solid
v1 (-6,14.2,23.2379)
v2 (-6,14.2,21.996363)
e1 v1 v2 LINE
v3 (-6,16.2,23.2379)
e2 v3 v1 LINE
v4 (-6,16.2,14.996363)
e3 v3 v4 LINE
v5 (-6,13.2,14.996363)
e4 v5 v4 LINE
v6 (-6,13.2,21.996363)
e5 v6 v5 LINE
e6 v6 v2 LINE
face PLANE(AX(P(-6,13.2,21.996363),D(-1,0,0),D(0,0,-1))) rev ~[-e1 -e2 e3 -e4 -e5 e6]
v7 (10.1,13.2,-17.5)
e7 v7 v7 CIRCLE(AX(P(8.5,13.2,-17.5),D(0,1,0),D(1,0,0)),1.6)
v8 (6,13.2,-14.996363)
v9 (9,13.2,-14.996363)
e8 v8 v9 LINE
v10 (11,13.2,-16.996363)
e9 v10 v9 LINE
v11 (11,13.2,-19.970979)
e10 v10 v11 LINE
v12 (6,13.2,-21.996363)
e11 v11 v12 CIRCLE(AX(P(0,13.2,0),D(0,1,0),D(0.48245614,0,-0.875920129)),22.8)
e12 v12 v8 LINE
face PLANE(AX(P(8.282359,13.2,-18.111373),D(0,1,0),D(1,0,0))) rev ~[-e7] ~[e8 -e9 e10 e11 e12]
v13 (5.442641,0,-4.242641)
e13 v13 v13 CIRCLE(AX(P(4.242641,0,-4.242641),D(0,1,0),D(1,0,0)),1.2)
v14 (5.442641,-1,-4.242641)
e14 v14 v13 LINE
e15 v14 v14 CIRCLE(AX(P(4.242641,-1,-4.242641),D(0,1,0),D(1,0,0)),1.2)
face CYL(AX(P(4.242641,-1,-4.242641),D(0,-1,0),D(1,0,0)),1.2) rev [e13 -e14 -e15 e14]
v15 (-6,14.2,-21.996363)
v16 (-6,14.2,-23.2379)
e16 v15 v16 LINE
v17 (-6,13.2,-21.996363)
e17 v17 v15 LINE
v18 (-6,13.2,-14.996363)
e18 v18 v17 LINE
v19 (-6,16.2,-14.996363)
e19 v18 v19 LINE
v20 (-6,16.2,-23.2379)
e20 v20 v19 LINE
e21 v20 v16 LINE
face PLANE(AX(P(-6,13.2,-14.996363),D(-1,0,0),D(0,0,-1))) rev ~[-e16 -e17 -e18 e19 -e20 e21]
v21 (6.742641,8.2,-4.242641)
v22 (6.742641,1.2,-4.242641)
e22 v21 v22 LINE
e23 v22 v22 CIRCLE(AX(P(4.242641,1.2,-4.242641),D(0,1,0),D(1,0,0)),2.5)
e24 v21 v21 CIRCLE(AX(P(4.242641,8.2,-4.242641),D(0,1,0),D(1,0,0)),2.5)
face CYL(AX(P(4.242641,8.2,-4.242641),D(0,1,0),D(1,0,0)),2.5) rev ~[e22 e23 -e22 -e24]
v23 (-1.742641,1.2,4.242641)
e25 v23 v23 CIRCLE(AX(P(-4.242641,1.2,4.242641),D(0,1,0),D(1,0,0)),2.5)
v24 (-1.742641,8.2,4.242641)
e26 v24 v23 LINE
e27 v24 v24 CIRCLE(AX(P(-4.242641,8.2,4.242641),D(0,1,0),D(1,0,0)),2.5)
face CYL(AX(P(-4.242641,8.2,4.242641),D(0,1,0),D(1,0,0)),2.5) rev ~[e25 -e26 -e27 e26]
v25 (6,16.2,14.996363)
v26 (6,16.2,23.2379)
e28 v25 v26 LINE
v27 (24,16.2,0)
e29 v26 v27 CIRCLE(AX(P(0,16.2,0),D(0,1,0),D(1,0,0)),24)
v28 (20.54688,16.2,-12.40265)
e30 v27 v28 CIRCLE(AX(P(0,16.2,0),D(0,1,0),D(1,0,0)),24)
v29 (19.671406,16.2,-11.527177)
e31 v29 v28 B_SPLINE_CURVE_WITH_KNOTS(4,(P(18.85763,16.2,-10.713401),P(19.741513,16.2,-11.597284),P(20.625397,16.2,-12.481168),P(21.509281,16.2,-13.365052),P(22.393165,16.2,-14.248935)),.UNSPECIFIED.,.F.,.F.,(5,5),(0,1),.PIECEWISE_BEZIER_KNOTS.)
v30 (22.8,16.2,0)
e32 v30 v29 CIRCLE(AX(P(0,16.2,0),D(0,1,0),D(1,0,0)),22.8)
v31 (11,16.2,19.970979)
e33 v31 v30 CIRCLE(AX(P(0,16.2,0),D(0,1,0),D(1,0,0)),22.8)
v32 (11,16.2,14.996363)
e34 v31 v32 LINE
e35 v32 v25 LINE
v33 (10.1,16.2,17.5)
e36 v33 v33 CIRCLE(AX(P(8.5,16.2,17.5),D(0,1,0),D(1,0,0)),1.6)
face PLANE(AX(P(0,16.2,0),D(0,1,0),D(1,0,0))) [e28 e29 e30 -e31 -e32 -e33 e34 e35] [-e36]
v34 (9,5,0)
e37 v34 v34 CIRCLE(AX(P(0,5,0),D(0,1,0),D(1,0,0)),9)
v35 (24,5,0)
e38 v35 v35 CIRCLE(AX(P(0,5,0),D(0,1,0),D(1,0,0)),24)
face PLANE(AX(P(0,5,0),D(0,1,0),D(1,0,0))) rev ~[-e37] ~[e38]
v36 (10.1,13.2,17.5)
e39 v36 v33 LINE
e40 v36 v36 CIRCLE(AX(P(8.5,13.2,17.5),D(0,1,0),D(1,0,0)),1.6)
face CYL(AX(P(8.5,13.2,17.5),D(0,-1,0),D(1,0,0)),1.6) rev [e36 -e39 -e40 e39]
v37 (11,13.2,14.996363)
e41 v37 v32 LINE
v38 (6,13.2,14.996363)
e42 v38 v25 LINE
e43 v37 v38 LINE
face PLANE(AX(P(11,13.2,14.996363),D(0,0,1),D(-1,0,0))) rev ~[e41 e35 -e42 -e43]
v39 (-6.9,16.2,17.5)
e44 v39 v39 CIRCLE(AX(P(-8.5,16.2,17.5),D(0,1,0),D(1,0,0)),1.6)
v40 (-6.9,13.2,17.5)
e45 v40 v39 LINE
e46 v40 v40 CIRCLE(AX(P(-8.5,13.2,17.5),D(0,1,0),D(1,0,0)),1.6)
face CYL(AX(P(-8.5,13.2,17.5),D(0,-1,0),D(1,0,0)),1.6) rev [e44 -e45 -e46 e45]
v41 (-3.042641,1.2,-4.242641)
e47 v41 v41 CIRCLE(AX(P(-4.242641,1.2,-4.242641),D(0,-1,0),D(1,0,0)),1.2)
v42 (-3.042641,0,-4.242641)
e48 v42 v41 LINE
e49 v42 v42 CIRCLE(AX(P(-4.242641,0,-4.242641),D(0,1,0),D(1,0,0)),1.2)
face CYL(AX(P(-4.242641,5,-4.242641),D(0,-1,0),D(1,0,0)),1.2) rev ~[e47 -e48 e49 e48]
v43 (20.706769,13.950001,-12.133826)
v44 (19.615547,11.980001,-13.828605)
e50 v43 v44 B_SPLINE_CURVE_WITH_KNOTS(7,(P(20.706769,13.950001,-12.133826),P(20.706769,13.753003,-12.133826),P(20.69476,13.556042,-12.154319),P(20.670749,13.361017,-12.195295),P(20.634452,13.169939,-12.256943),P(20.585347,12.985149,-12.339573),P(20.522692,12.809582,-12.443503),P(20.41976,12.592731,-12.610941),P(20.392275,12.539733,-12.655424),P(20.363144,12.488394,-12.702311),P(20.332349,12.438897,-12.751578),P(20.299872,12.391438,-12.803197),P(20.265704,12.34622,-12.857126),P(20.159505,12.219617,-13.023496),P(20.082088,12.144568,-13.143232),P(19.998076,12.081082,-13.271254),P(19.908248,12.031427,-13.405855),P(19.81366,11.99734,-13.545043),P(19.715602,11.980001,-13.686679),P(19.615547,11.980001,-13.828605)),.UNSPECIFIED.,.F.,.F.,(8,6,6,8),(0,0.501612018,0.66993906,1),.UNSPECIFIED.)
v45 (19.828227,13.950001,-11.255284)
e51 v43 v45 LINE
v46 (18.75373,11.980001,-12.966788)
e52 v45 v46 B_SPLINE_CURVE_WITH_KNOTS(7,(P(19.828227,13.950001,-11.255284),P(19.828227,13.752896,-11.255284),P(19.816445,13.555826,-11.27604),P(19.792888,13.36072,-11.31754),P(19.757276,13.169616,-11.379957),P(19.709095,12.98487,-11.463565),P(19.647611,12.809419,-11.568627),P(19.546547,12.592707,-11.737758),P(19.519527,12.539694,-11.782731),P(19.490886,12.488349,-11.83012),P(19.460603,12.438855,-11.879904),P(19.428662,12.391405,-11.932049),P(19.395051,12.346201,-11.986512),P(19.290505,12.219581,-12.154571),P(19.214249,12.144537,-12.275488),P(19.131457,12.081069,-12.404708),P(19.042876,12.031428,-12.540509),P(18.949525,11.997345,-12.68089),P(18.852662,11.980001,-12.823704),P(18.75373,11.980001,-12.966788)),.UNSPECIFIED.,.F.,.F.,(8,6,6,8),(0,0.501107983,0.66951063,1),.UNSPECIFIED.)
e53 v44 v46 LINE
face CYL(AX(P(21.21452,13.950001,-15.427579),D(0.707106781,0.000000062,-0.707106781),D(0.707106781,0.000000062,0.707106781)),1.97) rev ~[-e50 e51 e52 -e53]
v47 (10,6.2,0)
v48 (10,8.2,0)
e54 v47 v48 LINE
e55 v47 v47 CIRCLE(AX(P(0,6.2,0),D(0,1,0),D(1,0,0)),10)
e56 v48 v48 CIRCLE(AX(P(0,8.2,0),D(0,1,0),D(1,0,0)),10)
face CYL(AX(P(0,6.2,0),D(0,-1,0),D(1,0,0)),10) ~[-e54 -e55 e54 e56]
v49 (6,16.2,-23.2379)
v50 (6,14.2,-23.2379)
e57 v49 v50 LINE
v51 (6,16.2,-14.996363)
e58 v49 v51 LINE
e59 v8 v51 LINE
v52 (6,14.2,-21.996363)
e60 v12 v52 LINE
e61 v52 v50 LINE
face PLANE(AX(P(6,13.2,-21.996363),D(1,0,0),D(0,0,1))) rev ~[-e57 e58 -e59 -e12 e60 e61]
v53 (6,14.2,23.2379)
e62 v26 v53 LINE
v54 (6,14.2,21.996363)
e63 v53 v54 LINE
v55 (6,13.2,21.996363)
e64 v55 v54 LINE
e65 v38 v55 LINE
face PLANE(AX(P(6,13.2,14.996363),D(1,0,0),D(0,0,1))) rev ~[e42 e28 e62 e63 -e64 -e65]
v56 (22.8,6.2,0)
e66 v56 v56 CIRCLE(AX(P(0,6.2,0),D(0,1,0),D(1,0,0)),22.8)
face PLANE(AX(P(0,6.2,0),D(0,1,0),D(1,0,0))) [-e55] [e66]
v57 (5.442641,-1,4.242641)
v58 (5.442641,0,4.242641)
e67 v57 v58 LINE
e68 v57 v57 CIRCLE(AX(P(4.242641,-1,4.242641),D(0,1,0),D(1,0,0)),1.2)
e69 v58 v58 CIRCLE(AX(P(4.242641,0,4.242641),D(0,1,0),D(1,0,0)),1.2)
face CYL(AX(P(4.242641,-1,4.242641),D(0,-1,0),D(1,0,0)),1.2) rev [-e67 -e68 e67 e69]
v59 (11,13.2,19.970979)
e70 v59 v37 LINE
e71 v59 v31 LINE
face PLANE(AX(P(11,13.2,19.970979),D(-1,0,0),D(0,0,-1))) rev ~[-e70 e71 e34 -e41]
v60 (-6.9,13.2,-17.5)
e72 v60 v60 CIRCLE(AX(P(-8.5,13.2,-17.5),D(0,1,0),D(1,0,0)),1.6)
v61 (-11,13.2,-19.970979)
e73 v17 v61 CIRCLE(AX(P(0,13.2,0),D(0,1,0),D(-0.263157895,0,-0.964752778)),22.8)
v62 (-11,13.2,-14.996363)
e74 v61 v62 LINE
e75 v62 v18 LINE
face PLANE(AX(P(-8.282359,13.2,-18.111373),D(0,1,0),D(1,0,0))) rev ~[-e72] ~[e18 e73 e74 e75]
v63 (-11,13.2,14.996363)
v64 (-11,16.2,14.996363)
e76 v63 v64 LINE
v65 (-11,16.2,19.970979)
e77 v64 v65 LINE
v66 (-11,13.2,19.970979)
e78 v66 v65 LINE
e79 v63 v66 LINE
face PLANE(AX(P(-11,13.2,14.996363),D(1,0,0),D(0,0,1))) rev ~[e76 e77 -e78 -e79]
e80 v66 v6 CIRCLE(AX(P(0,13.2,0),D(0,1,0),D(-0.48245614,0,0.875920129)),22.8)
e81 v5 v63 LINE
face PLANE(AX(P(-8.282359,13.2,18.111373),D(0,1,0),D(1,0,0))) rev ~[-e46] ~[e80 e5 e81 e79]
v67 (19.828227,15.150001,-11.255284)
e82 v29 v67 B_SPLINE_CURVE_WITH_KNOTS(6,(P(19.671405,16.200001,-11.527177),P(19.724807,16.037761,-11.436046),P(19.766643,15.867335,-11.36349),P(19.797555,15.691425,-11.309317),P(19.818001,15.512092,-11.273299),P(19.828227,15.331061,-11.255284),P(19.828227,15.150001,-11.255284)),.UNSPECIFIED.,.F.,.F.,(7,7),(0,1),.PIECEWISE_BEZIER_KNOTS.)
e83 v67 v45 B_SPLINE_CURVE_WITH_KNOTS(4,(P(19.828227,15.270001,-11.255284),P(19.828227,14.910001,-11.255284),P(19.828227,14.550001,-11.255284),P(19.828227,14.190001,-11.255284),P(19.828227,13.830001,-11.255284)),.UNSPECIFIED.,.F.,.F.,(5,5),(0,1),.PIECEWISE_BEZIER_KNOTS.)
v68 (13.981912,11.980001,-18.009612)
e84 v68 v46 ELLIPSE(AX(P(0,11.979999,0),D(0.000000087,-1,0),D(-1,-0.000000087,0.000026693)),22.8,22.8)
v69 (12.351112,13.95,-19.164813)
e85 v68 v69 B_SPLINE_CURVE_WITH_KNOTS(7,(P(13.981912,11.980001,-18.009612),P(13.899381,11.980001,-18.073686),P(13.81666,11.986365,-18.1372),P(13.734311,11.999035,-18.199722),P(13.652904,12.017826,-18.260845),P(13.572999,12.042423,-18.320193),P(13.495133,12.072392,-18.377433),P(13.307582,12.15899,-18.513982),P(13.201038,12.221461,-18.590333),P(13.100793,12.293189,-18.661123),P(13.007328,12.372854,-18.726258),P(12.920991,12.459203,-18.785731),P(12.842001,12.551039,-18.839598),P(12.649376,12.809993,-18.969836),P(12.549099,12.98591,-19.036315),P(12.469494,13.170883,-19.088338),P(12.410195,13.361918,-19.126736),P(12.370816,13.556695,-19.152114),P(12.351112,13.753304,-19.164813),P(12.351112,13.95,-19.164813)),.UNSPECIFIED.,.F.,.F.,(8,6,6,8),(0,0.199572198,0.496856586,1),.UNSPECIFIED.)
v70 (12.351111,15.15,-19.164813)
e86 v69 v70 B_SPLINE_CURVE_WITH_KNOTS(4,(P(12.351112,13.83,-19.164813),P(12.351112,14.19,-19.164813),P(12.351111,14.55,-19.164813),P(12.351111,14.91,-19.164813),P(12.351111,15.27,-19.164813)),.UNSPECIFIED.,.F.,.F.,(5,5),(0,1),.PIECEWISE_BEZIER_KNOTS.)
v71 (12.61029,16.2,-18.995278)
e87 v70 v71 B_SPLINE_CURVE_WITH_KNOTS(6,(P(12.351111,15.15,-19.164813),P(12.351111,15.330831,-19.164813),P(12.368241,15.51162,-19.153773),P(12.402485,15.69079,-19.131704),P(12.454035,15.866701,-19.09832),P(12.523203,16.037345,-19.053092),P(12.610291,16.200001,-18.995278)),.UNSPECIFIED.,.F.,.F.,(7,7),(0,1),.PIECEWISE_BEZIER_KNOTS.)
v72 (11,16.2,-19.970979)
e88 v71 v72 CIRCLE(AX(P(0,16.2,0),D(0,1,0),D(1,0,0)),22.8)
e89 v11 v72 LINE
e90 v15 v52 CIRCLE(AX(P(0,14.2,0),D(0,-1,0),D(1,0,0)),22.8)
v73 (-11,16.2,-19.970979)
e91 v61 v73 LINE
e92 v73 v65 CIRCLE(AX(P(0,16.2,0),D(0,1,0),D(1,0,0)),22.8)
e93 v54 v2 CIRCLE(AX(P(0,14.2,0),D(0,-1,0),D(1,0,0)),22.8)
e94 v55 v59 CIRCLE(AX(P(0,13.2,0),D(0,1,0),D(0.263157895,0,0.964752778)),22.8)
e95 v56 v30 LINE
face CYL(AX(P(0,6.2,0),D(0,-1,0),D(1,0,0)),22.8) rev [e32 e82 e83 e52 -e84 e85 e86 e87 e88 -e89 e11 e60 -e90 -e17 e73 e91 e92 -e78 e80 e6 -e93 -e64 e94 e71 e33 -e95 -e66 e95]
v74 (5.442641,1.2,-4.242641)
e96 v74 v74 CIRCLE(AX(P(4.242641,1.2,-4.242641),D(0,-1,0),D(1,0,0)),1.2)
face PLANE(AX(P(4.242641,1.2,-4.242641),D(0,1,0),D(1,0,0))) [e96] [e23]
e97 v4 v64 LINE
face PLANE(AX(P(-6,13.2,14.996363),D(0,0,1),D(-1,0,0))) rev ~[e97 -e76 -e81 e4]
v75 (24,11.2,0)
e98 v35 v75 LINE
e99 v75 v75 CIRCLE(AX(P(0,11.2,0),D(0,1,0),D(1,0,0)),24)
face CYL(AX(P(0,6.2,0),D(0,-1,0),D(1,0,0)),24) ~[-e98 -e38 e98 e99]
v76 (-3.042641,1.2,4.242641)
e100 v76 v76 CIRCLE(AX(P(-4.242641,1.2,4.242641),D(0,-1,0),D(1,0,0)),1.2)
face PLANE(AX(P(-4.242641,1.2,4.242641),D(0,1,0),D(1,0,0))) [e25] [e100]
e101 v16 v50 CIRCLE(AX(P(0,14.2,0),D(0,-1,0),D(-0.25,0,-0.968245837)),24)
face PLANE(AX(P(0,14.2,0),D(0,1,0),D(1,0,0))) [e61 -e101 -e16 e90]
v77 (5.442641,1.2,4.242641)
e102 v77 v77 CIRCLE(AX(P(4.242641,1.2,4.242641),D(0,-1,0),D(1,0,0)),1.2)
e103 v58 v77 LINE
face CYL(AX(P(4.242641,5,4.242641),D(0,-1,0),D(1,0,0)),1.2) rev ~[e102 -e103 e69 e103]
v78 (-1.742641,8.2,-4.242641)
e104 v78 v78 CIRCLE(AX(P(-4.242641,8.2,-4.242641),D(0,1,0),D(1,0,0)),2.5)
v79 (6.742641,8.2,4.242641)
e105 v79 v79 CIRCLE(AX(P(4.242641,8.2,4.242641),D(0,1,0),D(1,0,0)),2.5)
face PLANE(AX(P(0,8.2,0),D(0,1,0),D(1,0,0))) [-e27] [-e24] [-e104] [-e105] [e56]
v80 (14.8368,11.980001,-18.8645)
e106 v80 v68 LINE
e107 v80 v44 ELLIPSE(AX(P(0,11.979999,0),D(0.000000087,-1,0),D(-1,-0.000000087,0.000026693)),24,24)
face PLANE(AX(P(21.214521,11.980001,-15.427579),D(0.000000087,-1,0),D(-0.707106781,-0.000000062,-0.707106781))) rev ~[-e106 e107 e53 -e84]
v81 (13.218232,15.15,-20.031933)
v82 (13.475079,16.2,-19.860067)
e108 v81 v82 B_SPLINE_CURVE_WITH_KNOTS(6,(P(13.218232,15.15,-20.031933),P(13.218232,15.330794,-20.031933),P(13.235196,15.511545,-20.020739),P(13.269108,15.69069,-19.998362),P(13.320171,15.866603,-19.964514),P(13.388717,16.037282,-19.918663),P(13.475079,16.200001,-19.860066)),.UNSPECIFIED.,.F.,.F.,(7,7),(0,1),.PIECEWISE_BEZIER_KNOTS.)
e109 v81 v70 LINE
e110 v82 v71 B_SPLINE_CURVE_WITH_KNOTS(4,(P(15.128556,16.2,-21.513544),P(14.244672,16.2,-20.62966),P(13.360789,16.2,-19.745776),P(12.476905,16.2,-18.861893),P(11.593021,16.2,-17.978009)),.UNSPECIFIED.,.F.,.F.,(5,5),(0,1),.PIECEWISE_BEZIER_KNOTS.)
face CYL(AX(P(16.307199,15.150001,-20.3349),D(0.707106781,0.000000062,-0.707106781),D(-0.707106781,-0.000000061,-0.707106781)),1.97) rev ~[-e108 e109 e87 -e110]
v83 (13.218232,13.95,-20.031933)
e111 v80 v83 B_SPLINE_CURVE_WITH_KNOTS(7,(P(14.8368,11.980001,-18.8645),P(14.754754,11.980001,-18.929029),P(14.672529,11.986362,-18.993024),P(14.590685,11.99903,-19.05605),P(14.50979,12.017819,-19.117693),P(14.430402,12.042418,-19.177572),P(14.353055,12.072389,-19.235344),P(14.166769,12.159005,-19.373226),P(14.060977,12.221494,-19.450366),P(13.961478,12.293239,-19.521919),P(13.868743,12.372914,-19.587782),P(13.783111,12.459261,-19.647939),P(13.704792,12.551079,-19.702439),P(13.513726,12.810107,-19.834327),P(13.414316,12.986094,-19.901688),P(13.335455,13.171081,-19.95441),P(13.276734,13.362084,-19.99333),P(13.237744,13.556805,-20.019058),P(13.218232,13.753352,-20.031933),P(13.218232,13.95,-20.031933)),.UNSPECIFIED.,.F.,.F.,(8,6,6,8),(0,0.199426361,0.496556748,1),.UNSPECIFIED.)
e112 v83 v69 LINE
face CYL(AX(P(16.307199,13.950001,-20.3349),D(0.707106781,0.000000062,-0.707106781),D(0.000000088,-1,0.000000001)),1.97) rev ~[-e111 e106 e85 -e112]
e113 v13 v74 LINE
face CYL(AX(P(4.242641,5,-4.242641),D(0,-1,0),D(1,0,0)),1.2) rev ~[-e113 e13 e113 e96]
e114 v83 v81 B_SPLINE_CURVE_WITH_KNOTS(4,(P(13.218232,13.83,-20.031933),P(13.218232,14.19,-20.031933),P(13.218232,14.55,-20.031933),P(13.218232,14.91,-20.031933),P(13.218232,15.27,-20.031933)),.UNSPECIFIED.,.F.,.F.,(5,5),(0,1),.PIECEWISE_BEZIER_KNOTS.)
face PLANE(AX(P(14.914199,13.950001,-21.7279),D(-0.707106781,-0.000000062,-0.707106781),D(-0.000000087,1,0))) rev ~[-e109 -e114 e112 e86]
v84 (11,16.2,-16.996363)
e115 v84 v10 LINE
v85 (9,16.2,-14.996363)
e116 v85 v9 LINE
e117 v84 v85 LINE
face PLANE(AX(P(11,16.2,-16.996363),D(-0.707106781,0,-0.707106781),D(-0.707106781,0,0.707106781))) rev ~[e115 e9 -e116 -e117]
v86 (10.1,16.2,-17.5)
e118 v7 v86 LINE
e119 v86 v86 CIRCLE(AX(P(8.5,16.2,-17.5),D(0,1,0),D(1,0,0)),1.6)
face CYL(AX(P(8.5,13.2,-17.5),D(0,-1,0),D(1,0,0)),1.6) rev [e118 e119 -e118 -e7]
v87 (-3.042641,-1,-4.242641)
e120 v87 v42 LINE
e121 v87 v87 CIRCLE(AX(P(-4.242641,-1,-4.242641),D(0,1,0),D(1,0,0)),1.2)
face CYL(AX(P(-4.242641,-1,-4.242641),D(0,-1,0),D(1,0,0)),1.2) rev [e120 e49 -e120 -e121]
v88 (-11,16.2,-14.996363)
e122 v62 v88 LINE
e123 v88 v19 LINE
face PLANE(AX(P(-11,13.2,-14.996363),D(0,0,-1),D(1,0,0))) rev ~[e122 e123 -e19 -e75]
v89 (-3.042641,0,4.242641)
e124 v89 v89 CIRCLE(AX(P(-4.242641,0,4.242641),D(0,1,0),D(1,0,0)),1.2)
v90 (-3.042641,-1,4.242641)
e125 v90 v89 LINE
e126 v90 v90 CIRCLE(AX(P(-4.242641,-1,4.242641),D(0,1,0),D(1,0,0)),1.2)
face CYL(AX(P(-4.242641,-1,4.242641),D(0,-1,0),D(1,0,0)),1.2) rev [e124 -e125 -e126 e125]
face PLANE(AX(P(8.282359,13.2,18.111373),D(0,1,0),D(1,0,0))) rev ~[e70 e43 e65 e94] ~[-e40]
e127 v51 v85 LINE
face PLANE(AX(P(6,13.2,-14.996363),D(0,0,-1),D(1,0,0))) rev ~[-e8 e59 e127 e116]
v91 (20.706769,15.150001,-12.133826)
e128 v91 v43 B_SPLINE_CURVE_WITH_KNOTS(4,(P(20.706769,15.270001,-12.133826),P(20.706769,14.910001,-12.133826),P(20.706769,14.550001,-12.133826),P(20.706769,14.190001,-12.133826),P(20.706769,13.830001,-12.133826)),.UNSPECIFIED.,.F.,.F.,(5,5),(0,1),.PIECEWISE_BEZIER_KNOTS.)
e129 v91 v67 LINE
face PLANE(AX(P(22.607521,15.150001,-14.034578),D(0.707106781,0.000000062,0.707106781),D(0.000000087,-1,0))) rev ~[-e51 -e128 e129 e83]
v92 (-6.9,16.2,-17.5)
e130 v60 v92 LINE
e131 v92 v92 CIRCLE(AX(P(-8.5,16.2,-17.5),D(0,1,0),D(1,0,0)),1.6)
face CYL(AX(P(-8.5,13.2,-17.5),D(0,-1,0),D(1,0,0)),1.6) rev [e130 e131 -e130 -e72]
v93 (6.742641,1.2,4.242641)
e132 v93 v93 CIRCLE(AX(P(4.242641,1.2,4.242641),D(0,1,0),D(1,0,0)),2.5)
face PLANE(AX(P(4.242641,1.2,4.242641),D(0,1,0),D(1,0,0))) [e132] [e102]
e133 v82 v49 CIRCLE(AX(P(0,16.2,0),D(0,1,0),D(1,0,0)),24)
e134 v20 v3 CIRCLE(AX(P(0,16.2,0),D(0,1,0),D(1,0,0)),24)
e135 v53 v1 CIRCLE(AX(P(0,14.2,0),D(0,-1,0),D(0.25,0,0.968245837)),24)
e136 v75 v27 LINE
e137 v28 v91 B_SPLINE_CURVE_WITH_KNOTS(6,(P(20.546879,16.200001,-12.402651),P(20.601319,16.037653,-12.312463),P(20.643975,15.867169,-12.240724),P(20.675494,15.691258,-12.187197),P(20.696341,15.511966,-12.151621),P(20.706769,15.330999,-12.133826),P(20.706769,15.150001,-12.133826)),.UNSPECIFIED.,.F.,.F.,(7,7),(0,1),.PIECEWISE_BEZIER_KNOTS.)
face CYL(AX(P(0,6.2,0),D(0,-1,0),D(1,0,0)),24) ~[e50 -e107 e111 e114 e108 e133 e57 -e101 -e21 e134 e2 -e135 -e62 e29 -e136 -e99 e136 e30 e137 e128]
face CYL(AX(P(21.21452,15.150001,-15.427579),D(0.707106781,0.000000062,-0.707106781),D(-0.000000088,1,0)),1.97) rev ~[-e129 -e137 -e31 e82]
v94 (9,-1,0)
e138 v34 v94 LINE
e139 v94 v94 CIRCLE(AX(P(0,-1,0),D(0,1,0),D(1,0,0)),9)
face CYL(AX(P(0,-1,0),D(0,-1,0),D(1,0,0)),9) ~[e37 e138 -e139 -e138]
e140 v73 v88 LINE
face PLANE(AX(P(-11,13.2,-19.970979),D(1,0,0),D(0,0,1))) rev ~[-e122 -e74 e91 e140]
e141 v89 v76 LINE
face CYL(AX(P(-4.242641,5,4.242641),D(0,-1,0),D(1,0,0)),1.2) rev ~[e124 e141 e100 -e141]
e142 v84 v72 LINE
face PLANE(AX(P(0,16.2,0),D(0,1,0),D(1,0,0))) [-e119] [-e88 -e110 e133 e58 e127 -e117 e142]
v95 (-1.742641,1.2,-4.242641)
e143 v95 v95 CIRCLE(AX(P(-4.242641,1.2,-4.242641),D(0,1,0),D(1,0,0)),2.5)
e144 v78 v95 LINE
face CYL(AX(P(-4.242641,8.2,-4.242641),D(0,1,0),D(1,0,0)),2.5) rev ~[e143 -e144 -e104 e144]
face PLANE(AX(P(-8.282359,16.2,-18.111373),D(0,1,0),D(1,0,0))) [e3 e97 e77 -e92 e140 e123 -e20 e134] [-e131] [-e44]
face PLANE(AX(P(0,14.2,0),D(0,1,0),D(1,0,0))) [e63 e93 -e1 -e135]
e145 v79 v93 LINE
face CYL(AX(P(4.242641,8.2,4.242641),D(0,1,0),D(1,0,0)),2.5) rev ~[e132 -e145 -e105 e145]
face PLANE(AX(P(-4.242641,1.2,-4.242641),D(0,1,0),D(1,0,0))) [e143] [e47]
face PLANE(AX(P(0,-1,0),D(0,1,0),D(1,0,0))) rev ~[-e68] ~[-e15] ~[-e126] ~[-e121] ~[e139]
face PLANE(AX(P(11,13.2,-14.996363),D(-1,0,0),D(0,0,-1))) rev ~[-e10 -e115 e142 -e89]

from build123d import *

# Parameters (mm, degrees)
SKETCH1_R           = 9
SKETCH1_R_2         = 1.2
BOSS_EXTRUDE1_DEPTH = 5
SKETCH2_R           = 24
BOSS_EXTRUDE2_DEPTH = 1.2
SKETCH4_R           = 1.2
CUT_EXTRUDE1_DEPTH  = 35.307433597
SKETCH5_R           = 10
SKETCH5_R_2         = 1.2
BOSS_EXTRUDE4_DEPTH = 2
SKETCH6_R           = 24
SKETCH6_R_2         = 22.8
BOSS_EXTRUDE5_DEPTH = 10
SKETCH7_W           = 12
SKETCH7_H           = 48
CUT_EXTRUDE2_DEPTH  = 2
BOSS_EXTRUDE6_START = -3
SKETCH9_R           = 1.6
BOSS_EXTRUDE6_DEPTH = 3
SKETCH10_R          = 2.5
CUT_EXTRUDE3_DEPTH  = 7
BOSS_EXTRUDE7_START = -1
SKETCH1_2_R         = 9
SKETCH1_2_R_2       = 1.2
BOSS_EXTRUDE7_DEPTH = 1
CUT_EXTRUDE4_DEPTH  = 5
SKETCH18_OUTSIDE_W  = 64.006
SKETCH18_OUTSIDE_H  = 64.006
SKETCH18_OUTSIDE_R  = 24
CUT_EXTRUDE5_DEPTH  = 5


with BuildPart() as part:
    # Sketch1 → Boss-Extrude1 (new body)
    with BuildSketch(Plane(origin=(0, 0, 0), x_dir=(1, 0, 0), z_dir=(0, 1, 0))):
        Circle(SKETCH1_R)
        with Locations((4.242640687, 4.242640687)):
            Circle(SKETCH1_R_2, mode=Mode.SUBTRACT)
        with Locations((-4.242640687, 4.242640687)):
            Circle(SKETCH1_R_2, mode=Mode.SUBTRACT)
        with Locations((4.242640687, -4.242640687)):
            Circle(SKETCH1_R_2, mode=Mode.SUBTRACT)
        with Locations((-4.242640687, -4.242640687)):
            Circle(SKETCH1_R_2, mode=Mode.SUBTRACT)
    extrude(amount=BOSS_EXTRUDE1_DEPTH)

    # Sketch2 → Boss-Extrude2 (add)
    with BuildSketch(Plane(origin=(0, 5, 0), x_dir=(1, 0, 0), z_dir=(0, 1, 0))):
        Circle(SKETCH2_R)
    extrude(amount=BOSS_EXTRUDE2_DEPTH)

    # Sketch4 → Cut-Extrude1 (cut, through all)
    with BuildSketch(Plane.XZ.offset(-5)):
        with Locations((-4.242640687, -4.242640687)):
            Circle(SKETCH4_R)
        with Locations((4.242640687, -4.242640687)):
            Circle(SKETCH4_R)
        with Locations((4.242640687, 4.242640687)):
            Circle(SKETCH4_R)
        with Locations((-4.242640687, 4.242640687)):
            Circle(SKETCH4_R)
    extrude(amount=-CUT_EXTRUDE1_DEPTH, mode=Mode.SUBTRACT)

    # Sketch5 → Boss-Extrude4 (add)
    with BuildSketch(Plane(origin=(0, 6.2, 0), x_dir=(1, 0, 0), z_dir=(0, 1, 0))):
        Circle(SKETCH5_R)
        with Locations((4.242640687, -4.242640687)):
            Circle(SKETCH5_R_2, mode=Mode.SUBTRACT)
        with Locations((-4.242640687, -4.242640687)):
            Circle(SKETCH5_R_2, mode=Mode.SUBTRACT)
        with Locations((-4.242640687, 4.242640687)):
            Circle(SKETCH5_R_2, mode=Mode.SUBTRACT)
        with Locations((4.242640687, 4.242640687)):
            Circle(SKETCH5_R_2, mode=Mode.SUBTRACT)
    extrude(amount=BOSS_EXTRUDE4_DEPTH)

    # Sketch6 → Boss-Extrude5 (add)
    with BuildSketch(Plane(origin=(0, 6.2, 0), x_dir=(1, 0, 0), z_dir=(0, 1, 0))):
        Circle(SKETCH6_R)
        Circle(SKETCH6_R_2, mode=Mode.SUBTRACT)
    extrude(amount=BOSS_EXTRUDE5_DEPTH)

    # Sketch7 → Cut-Extrude2 (cut)
    with BuildSketch(Plane(origin=(0, 16.2, 0), x_dir=(1, 0, 0), z_dir=(0, 1, 0))):
        Rectangle(SKETCH7_W, SKETCH7_H)
    extrude(amount=-CUT_EXTRUDE2_DEPTH, mode=Mode.SUBTRACT)

    # Sketch9 → Boss-Extrude6 (add)
    # profile 1 of 4: a face of its own
    with BuildSketch(Plane(origin=(0, 16.2, 0), x_dir=(1, 0, 0), z_dir=(0, 1, 0)).offset(BOSS_EXTRUDE6_START)):
        with BuildLine():
            Line((-6, 14.996363336), (-6, 21.996363336))
            ThreePointArc((-6, 21.996363336), (-8.560113637, 21.132071704), (-11, 19.970978944))
            Line((-11, 19.970978944), (-11, 14.996363336))
            Line((-11, 14.996363336), (-6, 14.996363336))
        make_face()
        with Locations((-8.5, 17.5)):
            Circle(SKETCH9_R, mode=Mode.SUBTRACT)
    # profile 2 of 4: a face of its own
    with BuildSketch(Plane(origin=(0, 16.2, 0), x_dir=(1, 0, 0), z_dir=(0, 1, 0)).offset(BOSS_EXTRUDE6_START)):
        with BuildLine():
            ThreePointArc((11, 19.970978944), (8.560113637, 21.132071704), (6, 21.996363336))
            Line((6, 21.996363336), (6, 14.996363336))
            Line((6, 14.996363336), (11, 14.996363336))
            Line((11, 14.996363336), (11, 19.970978944))
        make_face()
        with Locations((8.5, 17.5)):
            Circle(SKETCH9_R, mode=Mode.SUBTRACT)
    # profile 3 of 4: a face of its own
    with BuildSketch(Plane(origin=(0, 16.2, 0), x_dir=(1, 0, 0), z_dir=(0, 1, 0)).offset(BOSS_EXTRUDE6_START)):
        with BuildLine():
            Line((-11, -14.996363336), (-11, -19.970978944))
            ThreePointArc((-11, -19.970978944), (-8.560113637, -21.132071704), (-6, -21.996363336))
            Line((-6, -21.996363336), (-6, -14.996363336))
            Line((-6, -14.996363336), (-11, -14.996363336))
        make_face()
        with Locations((-8.5, -17.5)):
            Circle(SKETCH9_R, mode=Mode.SUBTRACT)
    # profile 4 of 4: a face of its own
    with BuildSketch(Plane(origin=(0, 16.2, 0), x_dir=(1, 0, 0), z_dir=(0, 1, 0)).offset(BOSS_EXTRUDE6_START)):
        with BuildLine():
            ThreePointArc((6, -21.996363336), (8.560113637, -21.132071704), (11, -19.970978944))
            Line((11, -19.970978944), (11, -14.996363336))
            Line((11, -14.996363336), (6, -14.996363336))
            Line((6, -14.996363336), (6, -21.996363336))
        make_face()
        with Locations((8.5, -17.5)):
            Circle(SKETCH9_R, mode=Mode.SUBTRACT)
    extrude(amount=BOSS_EXTRUDE6_DEPTH)

    # Sketch10 → Cut-Extrude3 (cut)
    with BuildSketch(Plane(origin=(0, 8.2, 0), x_dir=(1, 0, 0), z_dir=(0, 1, 0))):
        with Locations((4.242640687, 4.242640687)):
            Circle(SKETCH10_R)
        with Locations((4.242640687, -4.242640687)):
            Circle(SKETCH10_R)
        with Locations((-4.242640687, -4.242640687)):
            Circle(SKETCH10_R)
        with Locations((-4.242640687, 4.242640687)):
            Circle(SKETCH10_R)
    extrude(amount=-CUT_EXTRUDE3_DEPTH, mode=Mode.SUBTRACT)

    # Sketch1<2> → Boss-Extrude7 (add)
    with BuildSketch(Plane(origin=(0, 0, 0), x_dir=(1, 0, 0), z_dir=(0, 1, 0)).offset(BOSS_EXTRUDE7_START)):
        Circle(SKETCH1_2_R)
        with Locations((4.242640687, 4.242640687)):
            Circle(SKETCH1_2_R_2, mode=Mode.SUBTRACT)
        with Locations((-4.242640687, 4.242640687)):
            Circle(SKETCH1_2_R_2, mode=Mode.SUBTRACT)
        with Locations((4.242640687, -4.242640687)):
            Circle(SKETCH1_2_R_2, mode=Mode.SUBTRACT)
        with Locations((-4.242640687, -4.242640687)):
            Circle(SKETCH1_2_R_2, mode=Mode.SUBTRACT)
    extrude(amount=BOSS_EXTRUDE7_DEPTH)

    # Sketch15 → Cut-Extrude4 (cut)
    with BuildSketch(Plane(origin=(18.32105018, 1.602e-06, -18.32105018), x_dir=(-0.7071067811865515, 6.181721199999928e-08, -0.7071067811865409), z_dir=(0.7071067811865437, 6.181721199999997e-08, -0.7071067811865488))):
        with BuildLine():
            Line((-4.091985108, 11.979999846), (2.848014892, 11.979998988))
            ThreePointArc((2.848014892, 11.979998988), (4.241015323, 12.556998456), (4.818015136, 13.949998744))
            Line((4.818015136, 13.949998744), (4.818015284, 15.149998744))
            ThreePointArc((4.818015284, 15.149998744), (4.241015815, 16.542999174), (2.848015528, 17.119998988))
            Line((2.848015528, 17.119998988), (-4.091984472, 17.119999846))
            ThreePointArc((-4.091984472, 17.119999846), (-5.484984903, 16.543000377), (-6.061984716, 15.150000089))
            Line((-6.061984716, 15.150000089), (-6.061984864, 13.950000089))
            ThreePointArc((-6.061984864, 13.950000089), (-5.484985395, 12.556999659), (-4.091985108, 11.979999846))
        make_face()
    extrude(amount=-CUT_EXTRUDE4_DEPTH, mode=Mode.SUBTRACT)

    # Sketch18 outside → Cut-Extrude5 (cut)
    # profile 1 of 2: a face of its own
    with BuildSketch(Plane(origin=(0, 16.2, 0), x_dir=(1, 0, 0), z_dir=(0, 1, 0))):
        Rectangle(SKETCH18_OUTSIDE_W, SKETCH18_OUTSIDE_H)
        Circle(SKETCH18_OUTSIDE_R, mode=Mode.SUBTRACT)
    # profile 2 of 2: a face of its own
    with BuildSketch(Plane(origin=(0, 16.2, 0), x_dir=(1, 0, 0), z_dir=(0, 1, 0))):
        Polygon((11, 16.996363336), (9, 14.996363336), (11, 14.996363336), align=None)
    extrude(amount=-CUT_EXTRUDE5_DEPTH, mode=Mode.SUBTRACT)


solid = part.part
